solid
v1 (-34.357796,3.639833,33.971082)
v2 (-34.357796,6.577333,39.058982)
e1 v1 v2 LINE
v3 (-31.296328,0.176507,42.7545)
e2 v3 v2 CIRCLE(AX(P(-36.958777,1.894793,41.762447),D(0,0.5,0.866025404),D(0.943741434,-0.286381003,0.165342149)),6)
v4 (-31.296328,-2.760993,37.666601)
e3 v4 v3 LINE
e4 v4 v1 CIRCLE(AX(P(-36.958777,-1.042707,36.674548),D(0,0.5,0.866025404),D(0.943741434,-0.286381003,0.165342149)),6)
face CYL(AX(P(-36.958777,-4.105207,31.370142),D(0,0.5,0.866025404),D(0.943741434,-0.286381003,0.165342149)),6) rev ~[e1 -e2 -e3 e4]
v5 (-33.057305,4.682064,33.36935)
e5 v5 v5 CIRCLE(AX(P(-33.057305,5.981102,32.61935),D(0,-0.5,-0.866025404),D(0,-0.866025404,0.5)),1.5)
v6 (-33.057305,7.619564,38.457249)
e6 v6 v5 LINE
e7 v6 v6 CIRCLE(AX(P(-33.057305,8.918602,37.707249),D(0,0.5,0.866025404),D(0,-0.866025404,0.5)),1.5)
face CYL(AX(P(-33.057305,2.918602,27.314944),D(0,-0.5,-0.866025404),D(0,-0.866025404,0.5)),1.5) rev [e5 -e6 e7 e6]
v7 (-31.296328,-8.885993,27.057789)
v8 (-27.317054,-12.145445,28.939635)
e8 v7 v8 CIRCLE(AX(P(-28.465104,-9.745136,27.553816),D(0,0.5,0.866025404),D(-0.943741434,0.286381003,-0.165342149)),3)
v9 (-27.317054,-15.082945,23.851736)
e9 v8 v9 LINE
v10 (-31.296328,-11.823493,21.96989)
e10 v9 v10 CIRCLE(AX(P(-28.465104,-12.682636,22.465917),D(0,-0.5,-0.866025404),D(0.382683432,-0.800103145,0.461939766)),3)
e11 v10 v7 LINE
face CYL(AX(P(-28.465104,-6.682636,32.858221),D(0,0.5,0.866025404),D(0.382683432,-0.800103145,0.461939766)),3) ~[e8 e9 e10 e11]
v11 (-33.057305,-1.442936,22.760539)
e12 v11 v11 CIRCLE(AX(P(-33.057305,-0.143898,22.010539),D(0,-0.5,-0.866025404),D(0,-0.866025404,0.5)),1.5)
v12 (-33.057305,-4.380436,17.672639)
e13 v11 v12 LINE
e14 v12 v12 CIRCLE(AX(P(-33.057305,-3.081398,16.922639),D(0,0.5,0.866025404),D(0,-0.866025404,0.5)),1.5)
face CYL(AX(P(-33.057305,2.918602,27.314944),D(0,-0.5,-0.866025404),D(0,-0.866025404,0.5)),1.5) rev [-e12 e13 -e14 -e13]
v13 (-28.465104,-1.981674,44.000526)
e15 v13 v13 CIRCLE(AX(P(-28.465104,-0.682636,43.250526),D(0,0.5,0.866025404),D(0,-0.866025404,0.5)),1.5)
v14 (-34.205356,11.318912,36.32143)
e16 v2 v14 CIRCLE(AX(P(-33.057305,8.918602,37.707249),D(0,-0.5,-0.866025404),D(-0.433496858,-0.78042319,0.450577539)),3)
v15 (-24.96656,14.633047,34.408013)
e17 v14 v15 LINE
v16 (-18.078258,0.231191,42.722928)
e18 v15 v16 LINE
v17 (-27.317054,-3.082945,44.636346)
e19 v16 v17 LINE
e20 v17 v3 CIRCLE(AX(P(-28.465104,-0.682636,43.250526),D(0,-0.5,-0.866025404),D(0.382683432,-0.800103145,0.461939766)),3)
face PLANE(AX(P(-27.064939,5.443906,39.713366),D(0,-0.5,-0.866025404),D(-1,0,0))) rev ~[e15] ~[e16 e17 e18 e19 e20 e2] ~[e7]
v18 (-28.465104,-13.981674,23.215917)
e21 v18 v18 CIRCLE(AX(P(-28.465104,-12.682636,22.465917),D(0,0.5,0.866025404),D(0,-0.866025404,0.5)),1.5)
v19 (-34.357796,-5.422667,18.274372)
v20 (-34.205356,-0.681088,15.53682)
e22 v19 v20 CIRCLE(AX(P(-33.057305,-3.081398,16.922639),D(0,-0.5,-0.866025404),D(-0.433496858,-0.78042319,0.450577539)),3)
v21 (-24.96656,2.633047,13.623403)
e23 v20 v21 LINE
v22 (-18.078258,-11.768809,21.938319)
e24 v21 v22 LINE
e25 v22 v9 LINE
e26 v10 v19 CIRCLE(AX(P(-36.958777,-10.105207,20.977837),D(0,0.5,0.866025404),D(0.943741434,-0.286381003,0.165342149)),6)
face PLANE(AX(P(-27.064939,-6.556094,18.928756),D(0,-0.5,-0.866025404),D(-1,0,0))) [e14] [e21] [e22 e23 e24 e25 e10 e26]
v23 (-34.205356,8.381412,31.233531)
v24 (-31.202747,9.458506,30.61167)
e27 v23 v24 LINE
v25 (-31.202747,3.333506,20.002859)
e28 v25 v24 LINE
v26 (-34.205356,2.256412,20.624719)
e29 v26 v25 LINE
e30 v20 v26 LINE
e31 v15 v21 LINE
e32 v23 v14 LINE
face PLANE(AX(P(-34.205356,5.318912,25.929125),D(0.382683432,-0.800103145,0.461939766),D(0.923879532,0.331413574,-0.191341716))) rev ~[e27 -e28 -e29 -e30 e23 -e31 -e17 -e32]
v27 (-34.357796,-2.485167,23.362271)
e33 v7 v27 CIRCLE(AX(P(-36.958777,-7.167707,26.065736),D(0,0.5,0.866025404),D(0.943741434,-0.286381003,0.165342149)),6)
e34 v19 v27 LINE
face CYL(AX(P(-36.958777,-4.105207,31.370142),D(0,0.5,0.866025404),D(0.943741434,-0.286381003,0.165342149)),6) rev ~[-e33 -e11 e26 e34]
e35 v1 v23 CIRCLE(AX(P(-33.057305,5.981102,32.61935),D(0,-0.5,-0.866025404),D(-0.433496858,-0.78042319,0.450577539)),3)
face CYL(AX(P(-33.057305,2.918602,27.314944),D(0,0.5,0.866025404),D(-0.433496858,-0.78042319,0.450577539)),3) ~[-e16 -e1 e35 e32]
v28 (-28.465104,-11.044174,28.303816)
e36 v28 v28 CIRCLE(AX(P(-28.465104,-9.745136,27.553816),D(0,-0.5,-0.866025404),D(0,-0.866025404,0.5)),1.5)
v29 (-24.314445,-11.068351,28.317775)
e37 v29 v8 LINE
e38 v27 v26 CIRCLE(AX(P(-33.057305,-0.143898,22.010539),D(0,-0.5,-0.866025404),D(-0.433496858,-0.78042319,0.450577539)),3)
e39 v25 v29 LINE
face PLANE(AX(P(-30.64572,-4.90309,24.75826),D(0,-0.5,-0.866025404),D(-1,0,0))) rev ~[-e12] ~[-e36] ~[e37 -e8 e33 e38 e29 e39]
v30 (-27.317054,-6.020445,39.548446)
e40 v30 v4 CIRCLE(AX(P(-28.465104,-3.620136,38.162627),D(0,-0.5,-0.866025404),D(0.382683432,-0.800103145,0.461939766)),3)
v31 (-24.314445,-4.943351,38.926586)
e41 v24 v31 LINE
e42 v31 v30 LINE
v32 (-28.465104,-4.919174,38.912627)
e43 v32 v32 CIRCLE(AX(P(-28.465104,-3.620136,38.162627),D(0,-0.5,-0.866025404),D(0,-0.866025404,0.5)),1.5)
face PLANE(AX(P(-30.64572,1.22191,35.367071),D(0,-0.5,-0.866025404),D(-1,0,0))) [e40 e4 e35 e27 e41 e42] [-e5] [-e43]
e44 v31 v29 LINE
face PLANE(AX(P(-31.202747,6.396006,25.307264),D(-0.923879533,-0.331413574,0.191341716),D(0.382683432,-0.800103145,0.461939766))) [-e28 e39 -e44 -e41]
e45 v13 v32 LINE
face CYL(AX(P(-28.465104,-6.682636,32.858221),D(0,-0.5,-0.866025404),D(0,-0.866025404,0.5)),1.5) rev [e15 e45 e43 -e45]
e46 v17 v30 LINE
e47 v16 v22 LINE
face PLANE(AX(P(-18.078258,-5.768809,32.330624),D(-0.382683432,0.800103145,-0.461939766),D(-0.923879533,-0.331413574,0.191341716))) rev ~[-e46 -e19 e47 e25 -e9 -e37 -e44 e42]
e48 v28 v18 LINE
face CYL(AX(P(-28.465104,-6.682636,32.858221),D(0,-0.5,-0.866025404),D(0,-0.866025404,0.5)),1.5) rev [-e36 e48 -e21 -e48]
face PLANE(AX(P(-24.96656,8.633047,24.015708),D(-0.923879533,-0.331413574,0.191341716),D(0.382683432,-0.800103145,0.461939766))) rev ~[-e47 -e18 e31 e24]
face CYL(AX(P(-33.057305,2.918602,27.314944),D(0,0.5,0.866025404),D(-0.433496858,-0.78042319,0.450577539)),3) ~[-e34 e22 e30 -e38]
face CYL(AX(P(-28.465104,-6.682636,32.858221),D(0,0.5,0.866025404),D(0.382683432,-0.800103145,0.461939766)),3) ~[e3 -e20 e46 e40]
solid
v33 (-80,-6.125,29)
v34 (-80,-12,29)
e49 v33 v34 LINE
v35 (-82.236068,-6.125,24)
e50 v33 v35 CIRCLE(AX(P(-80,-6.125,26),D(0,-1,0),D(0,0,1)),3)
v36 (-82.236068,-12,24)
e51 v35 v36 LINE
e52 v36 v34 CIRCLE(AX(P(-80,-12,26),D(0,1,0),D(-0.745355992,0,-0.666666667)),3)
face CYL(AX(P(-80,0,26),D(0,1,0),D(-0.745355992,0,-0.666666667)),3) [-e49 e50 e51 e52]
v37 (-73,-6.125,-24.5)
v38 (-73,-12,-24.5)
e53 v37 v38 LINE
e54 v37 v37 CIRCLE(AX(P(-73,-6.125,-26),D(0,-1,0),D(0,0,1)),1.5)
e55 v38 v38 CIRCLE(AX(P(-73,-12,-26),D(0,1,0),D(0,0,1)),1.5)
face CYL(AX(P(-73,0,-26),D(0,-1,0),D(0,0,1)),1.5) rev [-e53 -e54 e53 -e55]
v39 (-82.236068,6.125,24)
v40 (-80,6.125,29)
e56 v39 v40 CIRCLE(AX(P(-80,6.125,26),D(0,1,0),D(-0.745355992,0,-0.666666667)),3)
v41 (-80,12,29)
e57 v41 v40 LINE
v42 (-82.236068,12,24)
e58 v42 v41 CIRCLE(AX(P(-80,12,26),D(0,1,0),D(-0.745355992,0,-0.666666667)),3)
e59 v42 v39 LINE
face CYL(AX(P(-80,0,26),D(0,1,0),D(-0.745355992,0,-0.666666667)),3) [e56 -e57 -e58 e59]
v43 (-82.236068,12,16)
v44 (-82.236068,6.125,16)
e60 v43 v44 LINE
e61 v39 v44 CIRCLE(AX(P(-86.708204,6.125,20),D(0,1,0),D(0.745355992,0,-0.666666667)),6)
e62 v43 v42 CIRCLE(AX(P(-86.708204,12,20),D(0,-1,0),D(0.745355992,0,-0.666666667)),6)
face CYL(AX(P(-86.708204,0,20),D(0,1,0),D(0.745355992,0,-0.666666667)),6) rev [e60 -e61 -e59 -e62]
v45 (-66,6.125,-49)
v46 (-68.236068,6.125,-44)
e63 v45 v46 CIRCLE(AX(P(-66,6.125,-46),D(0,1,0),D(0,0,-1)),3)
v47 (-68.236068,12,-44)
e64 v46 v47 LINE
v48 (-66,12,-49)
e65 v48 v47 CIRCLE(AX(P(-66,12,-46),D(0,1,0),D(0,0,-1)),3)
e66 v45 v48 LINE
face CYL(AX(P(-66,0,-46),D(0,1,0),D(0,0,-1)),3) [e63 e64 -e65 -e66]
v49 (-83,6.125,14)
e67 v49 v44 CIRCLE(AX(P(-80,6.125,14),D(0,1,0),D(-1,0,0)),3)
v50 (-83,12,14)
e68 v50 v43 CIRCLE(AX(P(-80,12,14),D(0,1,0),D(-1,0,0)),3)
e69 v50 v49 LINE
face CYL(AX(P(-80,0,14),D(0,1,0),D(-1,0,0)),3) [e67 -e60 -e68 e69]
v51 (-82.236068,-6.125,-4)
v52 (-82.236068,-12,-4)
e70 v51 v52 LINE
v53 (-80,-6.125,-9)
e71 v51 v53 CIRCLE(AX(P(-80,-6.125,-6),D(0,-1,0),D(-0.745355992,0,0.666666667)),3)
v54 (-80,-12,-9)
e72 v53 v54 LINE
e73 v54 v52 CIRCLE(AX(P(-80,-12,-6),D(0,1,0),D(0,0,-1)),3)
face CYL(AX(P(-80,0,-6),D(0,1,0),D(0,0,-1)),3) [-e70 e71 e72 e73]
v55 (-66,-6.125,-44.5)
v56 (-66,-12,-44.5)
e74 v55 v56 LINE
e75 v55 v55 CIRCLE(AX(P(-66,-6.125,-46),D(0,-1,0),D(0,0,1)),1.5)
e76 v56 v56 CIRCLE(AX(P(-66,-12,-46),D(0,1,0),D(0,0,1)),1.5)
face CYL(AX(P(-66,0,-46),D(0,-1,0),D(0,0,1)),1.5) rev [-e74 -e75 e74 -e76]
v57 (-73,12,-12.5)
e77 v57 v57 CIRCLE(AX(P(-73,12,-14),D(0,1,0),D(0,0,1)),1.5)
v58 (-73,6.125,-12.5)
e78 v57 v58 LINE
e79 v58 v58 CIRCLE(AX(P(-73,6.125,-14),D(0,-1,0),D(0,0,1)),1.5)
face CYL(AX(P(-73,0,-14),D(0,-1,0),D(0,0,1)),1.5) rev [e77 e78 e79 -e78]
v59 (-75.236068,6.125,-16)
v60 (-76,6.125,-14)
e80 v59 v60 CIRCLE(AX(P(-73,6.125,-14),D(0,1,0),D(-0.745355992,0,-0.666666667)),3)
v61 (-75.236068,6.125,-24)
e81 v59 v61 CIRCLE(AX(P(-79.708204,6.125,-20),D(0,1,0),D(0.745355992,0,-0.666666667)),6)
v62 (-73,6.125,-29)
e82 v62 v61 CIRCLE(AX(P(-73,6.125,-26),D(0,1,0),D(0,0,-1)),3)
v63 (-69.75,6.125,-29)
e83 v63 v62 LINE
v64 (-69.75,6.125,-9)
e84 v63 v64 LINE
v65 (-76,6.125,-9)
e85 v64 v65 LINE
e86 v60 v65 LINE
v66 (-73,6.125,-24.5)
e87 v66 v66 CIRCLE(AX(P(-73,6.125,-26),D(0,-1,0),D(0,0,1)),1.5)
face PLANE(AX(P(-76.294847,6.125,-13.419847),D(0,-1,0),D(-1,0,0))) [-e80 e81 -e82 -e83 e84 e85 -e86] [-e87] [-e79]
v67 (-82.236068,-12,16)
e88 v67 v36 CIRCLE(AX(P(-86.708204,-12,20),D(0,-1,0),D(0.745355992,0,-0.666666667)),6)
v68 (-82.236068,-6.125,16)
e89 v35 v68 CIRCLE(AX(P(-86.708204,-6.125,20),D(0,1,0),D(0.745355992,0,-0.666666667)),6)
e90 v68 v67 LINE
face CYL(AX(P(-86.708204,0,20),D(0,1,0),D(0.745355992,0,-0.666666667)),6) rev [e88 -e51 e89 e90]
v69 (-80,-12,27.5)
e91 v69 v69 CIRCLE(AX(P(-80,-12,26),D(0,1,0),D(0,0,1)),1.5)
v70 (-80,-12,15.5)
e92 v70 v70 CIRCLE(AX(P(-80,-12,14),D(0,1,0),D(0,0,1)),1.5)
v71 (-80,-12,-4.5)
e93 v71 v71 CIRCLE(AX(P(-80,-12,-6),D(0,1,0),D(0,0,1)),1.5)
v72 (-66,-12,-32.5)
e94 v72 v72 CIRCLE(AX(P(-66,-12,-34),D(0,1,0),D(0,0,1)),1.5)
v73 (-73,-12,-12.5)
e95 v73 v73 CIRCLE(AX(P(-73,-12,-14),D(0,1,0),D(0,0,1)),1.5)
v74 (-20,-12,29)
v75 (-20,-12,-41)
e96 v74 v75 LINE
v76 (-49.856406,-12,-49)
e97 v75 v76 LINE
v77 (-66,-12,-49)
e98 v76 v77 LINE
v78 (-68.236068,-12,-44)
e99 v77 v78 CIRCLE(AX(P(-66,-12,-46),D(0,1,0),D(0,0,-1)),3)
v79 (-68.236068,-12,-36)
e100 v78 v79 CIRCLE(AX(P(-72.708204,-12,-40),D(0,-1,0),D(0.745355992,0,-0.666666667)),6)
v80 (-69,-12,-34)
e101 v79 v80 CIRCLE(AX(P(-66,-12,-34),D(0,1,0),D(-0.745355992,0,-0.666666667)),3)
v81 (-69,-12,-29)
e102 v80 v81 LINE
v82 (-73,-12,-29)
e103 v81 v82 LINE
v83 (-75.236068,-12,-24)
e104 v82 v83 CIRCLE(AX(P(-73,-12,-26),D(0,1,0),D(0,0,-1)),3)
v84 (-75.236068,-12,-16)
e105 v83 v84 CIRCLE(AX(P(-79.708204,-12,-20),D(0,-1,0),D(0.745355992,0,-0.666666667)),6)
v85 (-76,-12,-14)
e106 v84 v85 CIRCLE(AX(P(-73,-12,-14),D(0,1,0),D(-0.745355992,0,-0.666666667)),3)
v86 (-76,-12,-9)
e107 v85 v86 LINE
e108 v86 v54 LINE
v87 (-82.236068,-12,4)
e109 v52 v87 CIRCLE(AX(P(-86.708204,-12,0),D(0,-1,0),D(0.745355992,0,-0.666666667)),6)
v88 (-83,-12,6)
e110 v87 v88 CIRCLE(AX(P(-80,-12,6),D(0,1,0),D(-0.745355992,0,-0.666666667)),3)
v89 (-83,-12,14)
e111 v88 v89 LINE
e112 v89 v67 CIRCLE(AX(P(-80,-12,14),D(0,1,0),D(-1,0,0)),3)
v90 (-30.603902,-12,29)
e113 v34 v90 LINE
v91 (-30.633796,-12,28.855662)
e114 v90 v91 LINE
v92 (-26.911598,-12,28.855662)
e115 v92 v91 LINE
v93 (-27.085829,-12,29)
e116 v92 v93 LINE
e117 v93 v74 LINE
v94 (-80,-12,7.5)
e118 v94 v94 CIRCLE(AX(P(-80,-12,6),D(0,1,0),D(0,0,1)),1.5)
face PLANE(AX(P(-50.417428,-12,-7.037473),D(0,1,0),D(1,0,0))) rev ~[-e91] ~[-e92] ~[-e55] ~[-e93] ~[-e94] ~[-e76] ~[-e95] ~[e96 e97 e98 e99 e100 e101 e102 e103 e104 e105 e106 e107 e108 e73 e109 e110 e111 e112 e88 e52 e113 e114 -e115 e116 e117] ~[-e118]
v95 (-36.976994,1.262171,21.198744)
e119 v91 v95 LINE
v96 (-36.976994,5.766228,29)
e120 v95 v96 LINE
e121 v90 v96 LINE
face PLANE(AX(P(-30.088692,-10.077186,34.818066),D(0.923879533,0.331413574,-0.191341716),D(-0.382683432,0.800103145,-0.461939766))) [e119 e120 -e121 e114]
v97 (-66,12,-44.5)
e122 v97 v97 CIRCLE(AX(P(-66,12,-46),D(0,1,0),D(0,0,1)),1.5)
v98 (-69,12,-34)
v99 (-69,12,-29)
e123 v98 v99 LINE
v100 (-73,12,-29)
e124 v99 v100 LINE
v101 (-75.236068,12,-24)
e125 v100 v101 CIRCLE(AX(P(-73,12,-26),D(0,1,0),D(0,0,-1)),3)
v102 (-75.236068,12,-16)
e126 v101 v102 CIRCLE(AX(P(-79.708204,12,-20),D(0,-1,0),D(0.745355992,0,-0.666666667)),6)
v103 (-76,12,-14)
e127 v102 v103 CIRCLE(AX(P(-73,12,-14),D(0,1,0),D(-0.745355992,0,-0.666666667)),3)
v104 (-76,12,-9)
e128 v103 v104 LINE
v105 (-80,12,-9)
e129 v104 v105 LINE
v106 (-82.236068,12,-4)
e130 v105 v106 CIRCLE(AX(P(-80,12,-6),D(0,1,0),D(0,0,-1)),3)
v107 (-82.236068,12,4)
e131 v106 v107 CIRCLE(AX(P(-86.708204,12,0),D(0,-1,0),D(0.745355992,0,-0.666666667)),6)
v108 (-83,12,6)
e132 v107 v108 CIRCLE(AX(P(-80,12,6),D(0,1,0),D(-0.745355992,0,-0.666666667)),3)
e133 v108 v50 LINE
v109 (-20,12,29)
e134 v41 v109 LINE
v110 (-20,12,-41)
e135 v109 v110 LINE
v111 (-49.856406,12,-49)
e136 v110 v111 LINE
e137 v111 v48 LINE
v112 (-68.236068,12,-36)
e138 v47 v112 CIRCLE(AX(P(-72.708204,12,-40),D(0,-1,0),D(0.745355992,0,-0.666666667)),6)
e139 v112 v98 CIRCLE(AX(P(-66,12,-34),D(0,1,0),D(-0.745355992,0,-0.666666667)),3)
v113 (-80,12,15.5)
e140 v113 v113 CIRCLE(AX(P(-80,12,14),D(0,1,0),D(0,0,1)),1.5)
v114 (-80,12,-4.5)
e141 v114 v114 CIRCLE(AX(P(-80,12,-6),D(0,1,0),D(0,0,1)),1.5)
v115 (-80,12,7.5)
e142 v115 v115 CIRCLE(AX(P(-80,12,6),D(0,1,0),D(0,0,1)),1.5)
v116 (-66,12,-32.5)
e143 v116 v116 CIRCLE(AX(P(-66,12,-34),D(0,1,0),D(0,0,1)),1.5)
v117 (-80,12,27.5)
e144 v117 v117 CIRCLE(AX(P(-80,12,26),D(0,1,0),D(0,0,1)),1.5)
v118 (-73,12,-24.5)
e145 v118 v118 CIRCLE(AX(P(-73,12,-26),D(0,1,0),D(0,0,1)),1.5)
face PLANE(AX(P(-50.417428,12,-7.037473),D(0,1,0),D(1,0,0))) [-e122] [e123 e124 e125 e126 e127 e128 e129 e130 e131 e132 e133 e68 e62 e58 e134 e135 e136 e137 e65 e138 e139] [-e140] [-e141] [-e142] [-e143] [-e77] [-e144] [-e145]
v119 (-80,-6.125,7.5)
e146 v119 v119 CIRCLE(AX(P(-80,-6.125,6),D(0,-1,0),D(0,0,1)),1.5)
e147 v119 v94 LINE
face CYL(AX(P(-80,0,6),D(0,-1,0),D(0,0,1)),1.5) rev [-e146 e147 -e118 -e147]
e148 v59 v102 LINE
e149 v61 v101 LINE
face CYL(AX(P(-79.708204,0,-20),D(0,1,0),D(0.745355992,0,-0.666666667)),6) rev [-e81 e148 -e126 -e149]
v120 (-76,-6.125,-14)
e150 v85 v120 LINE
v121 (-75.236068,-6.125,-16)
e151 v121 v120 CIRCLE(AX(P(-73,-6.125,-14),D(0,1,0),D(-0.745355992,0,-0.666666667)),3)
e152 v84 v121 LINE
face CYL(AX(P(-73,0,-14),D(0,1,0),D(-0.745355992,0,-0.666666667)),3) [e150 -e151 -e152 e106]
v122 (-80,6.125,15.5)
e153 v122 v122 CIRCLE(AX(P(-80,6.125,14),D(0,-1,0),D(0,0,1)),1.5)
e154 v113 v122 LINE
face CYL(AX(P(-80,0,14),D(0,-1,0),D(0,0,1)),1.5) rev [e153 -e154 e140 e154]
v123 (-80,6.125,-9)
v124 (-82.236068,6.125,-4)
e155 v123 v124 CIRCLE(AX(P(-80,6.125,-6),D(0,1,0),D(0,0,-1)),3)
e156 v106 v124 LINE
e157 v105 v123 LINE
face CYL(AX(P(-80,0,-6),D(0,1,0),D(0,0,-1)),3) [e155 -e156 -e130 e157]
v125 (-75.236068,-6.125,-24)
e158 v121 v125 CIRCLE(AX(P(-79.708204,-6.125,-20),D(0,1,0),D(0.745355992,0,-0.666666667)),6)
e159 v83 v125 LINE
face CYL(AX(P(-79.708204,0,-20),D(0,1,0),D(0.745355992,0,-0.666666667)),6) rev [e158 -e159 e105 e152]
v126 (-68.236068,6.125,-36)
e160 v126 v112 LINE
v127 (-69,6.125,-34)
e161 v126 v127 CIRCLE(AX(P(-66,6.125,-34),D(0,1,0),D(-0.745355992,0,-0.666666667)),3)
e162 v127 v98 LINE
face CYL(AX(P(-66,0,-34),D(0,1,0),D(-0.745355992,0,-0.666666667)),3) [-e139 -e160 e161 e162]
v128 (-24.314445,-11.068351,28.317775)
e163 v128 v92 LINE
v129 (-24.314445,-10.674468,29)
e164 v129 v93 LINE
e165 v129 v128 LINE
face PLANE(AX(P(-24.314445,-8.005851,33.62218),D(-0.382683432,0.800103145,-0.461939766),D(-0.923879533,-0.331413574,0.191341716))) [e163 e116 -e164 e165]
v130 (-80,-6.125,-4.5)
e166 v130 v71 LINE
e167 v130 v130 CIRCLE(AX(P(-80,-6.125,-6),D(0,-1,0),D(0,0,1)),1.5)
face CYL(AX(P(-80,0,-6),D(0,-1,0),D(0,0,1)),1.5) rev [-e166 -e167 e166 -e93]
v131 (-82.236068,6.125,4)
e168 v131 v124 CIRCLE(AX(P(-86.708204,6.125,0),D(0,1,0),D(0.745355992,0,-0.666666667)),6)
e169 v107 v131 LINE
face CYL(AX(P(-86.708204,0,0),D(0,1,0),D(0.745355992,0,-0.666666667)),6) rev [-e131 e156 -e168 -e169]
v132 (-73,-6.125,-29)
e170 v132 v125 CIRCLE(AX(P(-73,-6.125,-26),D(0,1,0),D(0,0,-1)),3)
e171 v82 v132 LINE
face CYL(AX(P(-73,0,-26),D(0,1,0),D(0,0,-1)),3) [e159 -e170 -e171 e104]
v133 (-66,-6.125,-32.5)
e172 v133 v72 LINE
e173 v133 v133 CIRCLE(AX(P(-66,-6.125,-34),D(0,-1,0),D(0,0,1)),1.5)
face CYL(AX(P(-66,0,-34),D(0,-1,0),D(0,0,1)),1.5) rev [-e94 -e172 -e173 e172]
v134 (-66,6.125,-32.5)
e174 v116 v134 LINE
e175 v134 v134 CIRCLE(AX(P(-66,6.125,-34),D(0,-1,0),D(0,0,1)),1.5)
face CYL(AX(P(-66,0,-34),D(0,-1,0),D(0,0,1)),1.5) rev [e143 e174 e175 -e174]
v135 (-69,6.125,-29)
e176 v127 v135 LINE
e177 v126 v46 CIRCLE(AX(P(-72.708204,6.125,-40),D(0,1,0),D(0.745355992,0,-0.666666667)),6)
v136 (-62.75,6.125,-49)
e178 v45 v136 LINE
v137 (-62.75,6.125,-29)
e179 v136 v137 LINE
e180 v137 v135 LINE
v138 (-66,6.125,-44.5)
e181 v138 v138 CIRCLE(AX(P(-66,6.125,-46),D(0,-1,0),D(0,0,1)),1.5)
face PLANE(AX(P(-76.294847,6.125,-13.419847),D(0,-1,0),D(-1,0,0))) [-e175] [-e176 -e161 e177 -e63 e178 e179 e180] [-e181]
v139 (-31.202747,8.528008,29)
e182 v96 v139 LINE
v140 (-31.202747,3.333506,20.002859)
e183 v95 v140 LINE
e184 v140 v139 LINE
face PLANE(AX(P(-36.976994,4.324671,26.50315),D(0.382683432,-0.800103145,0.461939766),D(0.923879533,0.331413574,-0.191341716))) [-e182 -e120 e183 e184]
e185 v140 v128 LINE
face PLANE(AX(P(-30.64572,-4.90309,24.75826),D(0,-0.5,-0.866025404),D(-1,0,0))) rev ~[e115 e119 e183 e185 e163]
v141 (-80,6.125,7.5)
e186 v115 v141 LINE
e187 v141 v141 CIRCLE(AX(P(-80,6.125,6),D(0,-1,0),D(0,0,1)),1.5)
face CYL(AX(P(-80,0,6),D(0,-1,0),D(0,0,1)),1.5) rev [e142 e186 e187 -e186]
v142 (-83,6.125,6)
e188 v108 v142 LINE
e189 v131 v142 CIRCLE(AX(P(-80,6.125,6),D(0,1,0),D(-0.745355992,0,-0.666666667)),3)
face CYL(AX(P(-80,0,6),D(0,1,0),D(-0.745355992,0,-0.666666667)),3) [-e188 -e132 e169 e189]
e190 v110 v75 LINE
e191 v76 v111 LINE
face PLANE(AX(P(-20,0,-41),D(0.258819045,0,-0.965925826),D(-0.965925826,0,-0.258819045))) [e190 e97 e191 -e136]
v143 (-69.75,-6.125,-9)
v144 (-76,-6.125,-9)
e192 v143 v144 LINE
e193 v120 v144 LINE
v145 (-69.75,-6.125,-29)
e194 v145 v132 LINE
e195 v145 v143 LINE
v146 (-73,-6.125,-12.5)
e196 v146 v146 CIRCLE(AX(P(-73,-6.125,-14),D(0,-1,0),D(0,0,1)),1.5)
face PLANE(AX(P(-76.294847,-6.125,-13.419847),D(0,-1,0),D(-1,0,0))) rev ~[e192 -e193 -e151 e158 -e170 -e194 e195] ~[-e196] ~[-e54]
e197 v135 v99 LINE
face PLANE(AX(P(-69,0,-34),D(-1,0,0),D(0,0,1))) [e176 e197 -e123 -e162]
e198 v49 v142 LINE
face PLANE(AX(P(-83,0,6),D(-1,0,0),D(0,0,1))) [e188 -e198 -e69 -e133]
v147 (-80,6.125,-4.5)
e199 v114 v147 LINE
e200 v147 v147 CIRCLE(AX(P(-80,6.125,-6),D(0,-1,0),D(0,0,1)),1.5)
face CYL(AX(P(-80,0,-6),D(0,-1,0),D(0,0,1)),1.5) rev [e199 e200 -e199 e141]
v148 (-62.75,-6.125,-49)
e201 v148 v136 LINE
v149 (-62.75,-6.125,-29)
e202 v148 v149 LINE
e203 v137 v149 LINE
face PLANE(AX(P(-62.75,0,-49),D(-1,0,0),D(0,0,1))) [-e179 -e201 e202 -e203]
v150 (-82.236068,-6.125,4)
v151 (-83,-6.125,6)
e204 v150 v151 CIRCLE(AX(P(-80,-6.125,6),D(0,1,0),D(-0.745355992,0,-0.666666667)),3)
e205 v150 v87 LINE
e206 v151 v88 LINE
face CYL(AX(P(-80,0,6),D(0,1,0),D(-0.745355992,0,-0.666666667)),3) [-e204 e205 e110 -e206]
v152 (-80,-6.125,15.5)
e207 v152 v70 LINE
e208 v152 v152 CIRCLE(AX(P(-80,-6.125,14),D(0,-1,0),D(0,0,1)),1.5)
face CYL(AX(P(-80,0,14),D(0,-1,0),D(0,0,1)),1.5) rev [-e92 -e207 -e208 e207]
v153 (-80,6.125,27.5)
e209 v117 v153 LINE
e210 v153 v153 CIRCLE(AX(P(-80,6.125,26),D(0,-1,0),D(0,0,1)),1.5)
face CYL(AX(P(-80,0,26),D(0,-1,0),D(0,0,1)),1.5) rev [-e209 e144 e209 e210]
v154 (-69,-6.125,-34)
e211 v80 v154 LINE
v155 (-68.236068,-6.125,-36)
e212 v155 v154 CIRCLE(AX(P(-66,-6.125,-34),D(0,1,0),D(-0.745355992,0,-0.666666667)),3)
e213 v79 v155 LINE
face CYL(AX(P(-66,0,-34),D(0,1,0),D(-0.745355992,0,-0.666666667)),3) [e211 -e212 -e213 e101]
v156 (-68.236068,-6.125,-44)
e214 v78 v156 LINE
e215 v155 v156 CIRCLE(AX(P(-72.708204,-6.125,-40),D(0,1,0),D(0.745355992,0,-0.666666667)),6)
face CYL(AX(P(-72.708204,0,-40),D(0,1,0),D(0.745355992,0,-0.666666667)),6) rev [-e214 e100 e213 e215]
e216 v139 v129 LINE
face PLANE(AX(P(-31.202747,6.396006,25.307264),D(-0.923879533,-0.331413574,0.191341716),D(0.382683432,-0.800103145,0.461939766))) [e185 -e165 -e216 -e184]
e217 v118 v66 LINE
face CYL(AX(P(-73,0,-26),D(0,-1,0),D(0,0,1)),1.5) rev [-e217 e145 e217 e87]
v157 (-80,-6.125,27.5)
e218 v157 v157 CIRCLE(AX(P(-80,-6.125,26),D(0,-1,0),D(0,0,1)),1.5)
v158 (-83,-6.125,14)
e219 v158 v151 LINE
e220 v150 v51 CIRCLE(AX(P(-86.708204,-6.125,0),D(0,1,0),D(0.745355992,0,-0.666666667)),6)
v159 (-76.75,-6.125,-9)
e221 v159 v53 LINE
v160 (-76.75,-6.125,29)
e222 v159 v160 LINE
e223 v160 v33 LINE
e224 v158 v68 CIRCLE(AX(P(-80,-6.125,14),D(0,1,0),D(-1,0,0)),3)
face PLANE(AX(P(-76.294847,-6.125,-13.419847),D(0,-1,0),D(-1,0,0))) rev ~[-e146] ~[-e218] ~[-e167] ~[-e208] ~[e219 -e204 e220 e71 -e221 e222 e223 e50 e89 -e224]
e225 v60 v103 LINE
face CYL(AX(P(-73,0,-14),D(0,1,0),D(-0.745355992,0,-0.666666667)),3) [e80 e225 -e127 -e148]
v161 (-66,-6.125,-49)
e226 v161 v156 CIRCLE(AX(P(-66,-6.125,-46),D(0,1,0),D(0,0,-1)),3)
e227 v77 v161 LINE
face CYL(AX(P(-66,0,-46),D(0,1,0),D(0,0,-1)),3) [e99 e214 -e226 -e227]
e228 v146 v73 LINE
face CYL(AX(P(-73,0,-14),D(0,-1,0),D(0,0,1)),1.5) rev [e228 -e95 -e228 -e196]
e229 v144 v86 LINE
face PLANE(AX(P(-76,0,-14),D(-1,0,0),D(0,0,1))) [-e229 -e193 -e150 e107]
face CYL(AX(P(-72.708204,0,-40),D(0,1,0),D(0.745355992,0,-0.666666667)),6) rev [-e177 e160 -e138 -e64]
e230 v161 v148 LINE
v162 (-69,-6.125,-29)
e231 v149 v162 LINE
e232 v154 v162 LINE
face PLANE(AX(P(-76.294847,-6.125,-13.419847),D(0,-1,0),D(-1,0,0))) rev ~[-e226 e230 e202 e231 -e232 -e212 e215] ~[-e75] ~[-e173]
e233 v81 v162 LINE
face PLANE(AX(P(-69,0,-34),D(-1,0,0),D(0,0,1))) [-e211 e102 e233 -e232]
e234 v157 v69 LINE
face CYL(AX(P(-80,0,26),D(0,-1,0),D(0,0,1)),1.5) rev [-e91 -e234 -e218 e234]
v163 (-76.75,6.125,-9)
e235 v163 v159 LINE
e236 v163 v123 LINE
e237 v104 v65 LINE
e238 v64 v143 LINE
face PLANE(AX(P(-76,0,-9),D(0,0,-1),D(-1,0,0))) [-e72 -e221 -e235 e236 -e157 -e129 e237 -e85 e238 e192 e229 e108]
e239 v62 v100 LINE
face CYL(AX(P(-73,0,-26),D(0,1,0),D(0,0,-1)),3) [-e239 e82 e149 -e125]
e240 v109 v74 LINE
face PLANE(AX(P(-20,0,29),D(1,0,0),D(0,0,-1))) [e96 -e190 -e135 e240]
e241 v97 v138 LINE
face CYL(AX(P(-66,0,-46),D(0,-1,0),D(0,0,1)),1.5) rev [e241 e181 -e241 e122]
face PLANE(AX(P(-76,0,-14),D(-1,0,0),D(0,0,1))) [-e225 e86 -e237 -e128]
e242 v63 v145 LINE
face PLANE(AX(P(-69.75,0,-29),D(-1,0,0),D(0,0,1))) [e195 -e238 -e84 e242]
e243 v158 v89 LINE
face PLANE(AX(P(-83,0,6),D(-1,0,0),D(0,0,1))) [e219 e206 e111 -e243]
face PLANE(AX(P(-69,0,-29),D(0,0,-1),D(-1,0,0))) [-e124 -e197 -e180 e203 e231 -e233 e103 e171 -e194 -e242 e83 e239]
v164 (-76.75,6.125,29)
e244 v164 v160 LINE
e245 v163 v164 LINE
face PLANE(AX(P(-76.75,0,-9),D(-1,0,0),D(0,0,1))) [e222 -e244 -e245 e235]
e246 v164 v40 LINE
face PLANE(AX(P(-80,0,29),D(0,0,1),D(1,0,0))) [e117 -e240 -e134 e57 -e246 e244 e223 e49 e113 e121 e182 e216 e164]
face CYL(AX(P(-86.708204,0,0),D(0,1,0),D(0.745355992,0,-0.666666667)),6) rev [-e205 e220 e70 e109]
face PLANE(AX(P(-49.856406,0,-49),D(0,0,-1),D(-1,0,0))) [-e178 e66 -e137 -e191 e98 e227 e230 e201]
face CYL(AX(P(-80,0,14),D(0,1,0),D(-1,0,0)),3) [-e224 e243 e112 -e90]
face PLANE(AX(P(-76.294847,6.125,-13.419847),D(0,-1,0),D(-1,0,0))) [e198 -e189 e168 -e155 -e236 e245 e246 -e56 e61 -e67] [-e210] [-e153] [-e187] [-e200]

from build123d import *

# Parameters (mm, degrees)
SKETCH1_R           = 1.5
BOSS_EXTRUDE1_DEPTH = 12
SKETCH2_R           = 1.5
BOSS_EXTRUDE2_DEPTH = 12
CUT_EXTRUDE1_DEPTH  = 6.125
CUT_EXTRUDE2_DEPTH  = 6.125


with BuildPart() as part:
    # Sketch1 → Boss-Extrude1 (new, symmetric)
    with BuildSketch(Plane(origin=(0, 0, 0), x_dir=(1, 0, 0), z_dir=(0, 1, 0))):
        with BuildLine():
            Line((-20, 41), (-49.856406461, 49))
            Line((-49.856406461, 49), (-66, 49))
            ThreePointArc((-66, 49), (-68.738612788, 47.224744871), (-68.236067977, 44))
            ThreePointArc((-68.236067977, 44), (-66.708203932, 40), (-68.236067977, 36))
            ThreePointArc((-68.236067977, 36), (-68.802517077, 35.070466269), (-69, 34))
            Line((-69, 34), (-69, 31))
            Line((-69, 31), (-69, 29))
            Line((-69, 29), (-73, 29))
            ThreePointArc((-73, 29), (-75.738612788, 27.224744871), (-75.236067977, 24))
            ThreePointArc((-75.236067977, 24), (-73.708203932, 20), (-75.236067977, 16))
            ThreePointArc((-75.236067977, 16), (-75.802517077, 15.070466269), (-76, 14))
            Line((-76, 14), (-76, 11))
            Line((-76, 11), (-76, 9))
            Line((-76, 9), (-80, 9))
            ThreePointArc((-80, 9), (-82.738612788, 7.224744871), (-82.236067977, 4))
            ThreePointArc((-82.236067977, 4), (-80.708203932, 0), (-82.236067977, -4))
            ThreePointArc((-82.236067977, -4), (-82.802517077, -4.929533731), (-83, -6))
            Line((-83, -6), (-83, -9))
            Line((-83, -9), (-83, -11))
            Line((-83, -11), (-83, -14))
            ThreePointArc((-83, -14), (-82.802517077, -15.070466269), (-82.236067977, -16))
            ThreePointArc((-82.236067977, -16), (-80.708203932, -20), (-82.236067977, -24))
            ThreePointArc((-82.236067977, -24), (-82.738612788, -27.224744871), (-80, -29))
            Line((-80, -29), (-20, -29))
            Line((-20, -29), (-20, 41))
        make_face()
        with Locations((-66, 46)):
            Circle(SKETCH1_R, mode=Mode.SUBTRACT)
        with Locations((-66, 34)):
            Circle(SKETCH1_R, mode=Mode.SUBTRACT)
        with Locations((-73, 26)):
            Circle(SKETCH1_R, mode=Mode.SUBTRACT)
        with Locations((-73, 14)):
            Circle(SKETCH1_R, mode=Mode.SUBTRACT)
        with Locations((-80, 6)):
            Circle(SKETCH1_R, mode=Mode.SUBTRACT)
        with Locations((-80, -6)):
            Circle(SKETCH1_R, mode=Mode.SUBTRACT)
        with Locations((-80, -14)):
            Circle(SKETCH1_R, mode=Mode.SUBTRACT)
        with Locations((-80, -26)):
            Circle(SKETCH1_R, mode=Mode.SUBTRACT)
    extrude(amount=BOSS_EXTRUDE1_DEPTH, both=True)

    # Sketch3 → Cut-Extrude1 (cut, symmetric)
    with BuildSketch(Plane(origin=(0, 0, 0), x_dir=(1, 0, 0), z_dir=(0, 1, 0))):
        Polygon((-62.75, 49), (-62.75, 29), (-69.75, 29), (-69.75, 9), (-76.75, 9), (-76.75, -29), (-83, -29), (-83, 49), align=None)
    extrude(amount=CUT_EXTRUDE1_DEPTH, both=True, mode=Mode.SUBTRACT)


with BuildPart() as body_2:
    # Sketch2 → Boss-Extrude2 (new, symmetric)
    with BuildSketch(Plane(origin=(0, 12.557368355, 21.75), x_dir=(1, 0, 0), z_dir=(0, 0.499999999999998, 0.8660254037844398))):
        with BuildLine():
            Line((-34.205355566, -8.358249884), (-24.966560241, -4.53141556))
            Line((-24.966560241, -4.53141556), (-18.078258458, -21.161247145))
            Line((-18.078258458, -21.161247145), (-27.317053784, -24.988081469))
            ThreePointArc((-27.317053784, -24.988081469), (-30.526562811, -24.395981332), (-31.296328383, -21.224389975))
            ThreePointArc((-31.296328383, -21.224389975), (-31.415499793, -16.944183588), (-34.357795842, -13.833353715))
            ThreePointArc((-34.357795842, -13.833353715), (-36.056143142, -11.046393504), (-34.205355566, -8.358249884))
        make_face()
        with Locations((-33.057305269, -11.129888481)):
            Circle(SKETCH2_R, mode=Mode.SUBTRACT)
        with Locations((-28.465104081, -22.216442871)):
            Circle(SKETCH2_R, mode=Mode.SUBTRACT)
    extrude(amount=BOSS_EXTRUDE2_DEPTH, both=True)


with BuildPart() as cut_extrude2_tool:
    # Sketch4 → Cut-Extrude2 (new, symmetric)
    with BuildSketch(Plane(origin=(0, 12.557368355, 21.75), x_dir=(1, 0, 0), z_dir=(0, 0.499999999999998, 0.8660254037844398))):
        Polygon((-31.202747086, -7.114528729), (-24.314445303, -23.744360314), (-30.088692381, -26.136131766), (-36.976994164, -9.506300181), align=None)
    extrude(amount=CUT_EXTRUDE2_DEPTH, both=True)


with BuildPart() as part_1:
    add(part.part)

    # Cut-Extrude2: cut by cut_extrude2_tool
    add(cut_extrude2_tool.part, mode=Mode.SUBTRACT)


with BuildPart() as body_2_1:
    add(body_2.part)

    # Cut-Extrude2: cut by cut_extrude2_tool
    add(cut_extrude2_tool.part, mode=Mode.SUBTRACT)


solid = Compound([part_1.part, body_2_1.part])
